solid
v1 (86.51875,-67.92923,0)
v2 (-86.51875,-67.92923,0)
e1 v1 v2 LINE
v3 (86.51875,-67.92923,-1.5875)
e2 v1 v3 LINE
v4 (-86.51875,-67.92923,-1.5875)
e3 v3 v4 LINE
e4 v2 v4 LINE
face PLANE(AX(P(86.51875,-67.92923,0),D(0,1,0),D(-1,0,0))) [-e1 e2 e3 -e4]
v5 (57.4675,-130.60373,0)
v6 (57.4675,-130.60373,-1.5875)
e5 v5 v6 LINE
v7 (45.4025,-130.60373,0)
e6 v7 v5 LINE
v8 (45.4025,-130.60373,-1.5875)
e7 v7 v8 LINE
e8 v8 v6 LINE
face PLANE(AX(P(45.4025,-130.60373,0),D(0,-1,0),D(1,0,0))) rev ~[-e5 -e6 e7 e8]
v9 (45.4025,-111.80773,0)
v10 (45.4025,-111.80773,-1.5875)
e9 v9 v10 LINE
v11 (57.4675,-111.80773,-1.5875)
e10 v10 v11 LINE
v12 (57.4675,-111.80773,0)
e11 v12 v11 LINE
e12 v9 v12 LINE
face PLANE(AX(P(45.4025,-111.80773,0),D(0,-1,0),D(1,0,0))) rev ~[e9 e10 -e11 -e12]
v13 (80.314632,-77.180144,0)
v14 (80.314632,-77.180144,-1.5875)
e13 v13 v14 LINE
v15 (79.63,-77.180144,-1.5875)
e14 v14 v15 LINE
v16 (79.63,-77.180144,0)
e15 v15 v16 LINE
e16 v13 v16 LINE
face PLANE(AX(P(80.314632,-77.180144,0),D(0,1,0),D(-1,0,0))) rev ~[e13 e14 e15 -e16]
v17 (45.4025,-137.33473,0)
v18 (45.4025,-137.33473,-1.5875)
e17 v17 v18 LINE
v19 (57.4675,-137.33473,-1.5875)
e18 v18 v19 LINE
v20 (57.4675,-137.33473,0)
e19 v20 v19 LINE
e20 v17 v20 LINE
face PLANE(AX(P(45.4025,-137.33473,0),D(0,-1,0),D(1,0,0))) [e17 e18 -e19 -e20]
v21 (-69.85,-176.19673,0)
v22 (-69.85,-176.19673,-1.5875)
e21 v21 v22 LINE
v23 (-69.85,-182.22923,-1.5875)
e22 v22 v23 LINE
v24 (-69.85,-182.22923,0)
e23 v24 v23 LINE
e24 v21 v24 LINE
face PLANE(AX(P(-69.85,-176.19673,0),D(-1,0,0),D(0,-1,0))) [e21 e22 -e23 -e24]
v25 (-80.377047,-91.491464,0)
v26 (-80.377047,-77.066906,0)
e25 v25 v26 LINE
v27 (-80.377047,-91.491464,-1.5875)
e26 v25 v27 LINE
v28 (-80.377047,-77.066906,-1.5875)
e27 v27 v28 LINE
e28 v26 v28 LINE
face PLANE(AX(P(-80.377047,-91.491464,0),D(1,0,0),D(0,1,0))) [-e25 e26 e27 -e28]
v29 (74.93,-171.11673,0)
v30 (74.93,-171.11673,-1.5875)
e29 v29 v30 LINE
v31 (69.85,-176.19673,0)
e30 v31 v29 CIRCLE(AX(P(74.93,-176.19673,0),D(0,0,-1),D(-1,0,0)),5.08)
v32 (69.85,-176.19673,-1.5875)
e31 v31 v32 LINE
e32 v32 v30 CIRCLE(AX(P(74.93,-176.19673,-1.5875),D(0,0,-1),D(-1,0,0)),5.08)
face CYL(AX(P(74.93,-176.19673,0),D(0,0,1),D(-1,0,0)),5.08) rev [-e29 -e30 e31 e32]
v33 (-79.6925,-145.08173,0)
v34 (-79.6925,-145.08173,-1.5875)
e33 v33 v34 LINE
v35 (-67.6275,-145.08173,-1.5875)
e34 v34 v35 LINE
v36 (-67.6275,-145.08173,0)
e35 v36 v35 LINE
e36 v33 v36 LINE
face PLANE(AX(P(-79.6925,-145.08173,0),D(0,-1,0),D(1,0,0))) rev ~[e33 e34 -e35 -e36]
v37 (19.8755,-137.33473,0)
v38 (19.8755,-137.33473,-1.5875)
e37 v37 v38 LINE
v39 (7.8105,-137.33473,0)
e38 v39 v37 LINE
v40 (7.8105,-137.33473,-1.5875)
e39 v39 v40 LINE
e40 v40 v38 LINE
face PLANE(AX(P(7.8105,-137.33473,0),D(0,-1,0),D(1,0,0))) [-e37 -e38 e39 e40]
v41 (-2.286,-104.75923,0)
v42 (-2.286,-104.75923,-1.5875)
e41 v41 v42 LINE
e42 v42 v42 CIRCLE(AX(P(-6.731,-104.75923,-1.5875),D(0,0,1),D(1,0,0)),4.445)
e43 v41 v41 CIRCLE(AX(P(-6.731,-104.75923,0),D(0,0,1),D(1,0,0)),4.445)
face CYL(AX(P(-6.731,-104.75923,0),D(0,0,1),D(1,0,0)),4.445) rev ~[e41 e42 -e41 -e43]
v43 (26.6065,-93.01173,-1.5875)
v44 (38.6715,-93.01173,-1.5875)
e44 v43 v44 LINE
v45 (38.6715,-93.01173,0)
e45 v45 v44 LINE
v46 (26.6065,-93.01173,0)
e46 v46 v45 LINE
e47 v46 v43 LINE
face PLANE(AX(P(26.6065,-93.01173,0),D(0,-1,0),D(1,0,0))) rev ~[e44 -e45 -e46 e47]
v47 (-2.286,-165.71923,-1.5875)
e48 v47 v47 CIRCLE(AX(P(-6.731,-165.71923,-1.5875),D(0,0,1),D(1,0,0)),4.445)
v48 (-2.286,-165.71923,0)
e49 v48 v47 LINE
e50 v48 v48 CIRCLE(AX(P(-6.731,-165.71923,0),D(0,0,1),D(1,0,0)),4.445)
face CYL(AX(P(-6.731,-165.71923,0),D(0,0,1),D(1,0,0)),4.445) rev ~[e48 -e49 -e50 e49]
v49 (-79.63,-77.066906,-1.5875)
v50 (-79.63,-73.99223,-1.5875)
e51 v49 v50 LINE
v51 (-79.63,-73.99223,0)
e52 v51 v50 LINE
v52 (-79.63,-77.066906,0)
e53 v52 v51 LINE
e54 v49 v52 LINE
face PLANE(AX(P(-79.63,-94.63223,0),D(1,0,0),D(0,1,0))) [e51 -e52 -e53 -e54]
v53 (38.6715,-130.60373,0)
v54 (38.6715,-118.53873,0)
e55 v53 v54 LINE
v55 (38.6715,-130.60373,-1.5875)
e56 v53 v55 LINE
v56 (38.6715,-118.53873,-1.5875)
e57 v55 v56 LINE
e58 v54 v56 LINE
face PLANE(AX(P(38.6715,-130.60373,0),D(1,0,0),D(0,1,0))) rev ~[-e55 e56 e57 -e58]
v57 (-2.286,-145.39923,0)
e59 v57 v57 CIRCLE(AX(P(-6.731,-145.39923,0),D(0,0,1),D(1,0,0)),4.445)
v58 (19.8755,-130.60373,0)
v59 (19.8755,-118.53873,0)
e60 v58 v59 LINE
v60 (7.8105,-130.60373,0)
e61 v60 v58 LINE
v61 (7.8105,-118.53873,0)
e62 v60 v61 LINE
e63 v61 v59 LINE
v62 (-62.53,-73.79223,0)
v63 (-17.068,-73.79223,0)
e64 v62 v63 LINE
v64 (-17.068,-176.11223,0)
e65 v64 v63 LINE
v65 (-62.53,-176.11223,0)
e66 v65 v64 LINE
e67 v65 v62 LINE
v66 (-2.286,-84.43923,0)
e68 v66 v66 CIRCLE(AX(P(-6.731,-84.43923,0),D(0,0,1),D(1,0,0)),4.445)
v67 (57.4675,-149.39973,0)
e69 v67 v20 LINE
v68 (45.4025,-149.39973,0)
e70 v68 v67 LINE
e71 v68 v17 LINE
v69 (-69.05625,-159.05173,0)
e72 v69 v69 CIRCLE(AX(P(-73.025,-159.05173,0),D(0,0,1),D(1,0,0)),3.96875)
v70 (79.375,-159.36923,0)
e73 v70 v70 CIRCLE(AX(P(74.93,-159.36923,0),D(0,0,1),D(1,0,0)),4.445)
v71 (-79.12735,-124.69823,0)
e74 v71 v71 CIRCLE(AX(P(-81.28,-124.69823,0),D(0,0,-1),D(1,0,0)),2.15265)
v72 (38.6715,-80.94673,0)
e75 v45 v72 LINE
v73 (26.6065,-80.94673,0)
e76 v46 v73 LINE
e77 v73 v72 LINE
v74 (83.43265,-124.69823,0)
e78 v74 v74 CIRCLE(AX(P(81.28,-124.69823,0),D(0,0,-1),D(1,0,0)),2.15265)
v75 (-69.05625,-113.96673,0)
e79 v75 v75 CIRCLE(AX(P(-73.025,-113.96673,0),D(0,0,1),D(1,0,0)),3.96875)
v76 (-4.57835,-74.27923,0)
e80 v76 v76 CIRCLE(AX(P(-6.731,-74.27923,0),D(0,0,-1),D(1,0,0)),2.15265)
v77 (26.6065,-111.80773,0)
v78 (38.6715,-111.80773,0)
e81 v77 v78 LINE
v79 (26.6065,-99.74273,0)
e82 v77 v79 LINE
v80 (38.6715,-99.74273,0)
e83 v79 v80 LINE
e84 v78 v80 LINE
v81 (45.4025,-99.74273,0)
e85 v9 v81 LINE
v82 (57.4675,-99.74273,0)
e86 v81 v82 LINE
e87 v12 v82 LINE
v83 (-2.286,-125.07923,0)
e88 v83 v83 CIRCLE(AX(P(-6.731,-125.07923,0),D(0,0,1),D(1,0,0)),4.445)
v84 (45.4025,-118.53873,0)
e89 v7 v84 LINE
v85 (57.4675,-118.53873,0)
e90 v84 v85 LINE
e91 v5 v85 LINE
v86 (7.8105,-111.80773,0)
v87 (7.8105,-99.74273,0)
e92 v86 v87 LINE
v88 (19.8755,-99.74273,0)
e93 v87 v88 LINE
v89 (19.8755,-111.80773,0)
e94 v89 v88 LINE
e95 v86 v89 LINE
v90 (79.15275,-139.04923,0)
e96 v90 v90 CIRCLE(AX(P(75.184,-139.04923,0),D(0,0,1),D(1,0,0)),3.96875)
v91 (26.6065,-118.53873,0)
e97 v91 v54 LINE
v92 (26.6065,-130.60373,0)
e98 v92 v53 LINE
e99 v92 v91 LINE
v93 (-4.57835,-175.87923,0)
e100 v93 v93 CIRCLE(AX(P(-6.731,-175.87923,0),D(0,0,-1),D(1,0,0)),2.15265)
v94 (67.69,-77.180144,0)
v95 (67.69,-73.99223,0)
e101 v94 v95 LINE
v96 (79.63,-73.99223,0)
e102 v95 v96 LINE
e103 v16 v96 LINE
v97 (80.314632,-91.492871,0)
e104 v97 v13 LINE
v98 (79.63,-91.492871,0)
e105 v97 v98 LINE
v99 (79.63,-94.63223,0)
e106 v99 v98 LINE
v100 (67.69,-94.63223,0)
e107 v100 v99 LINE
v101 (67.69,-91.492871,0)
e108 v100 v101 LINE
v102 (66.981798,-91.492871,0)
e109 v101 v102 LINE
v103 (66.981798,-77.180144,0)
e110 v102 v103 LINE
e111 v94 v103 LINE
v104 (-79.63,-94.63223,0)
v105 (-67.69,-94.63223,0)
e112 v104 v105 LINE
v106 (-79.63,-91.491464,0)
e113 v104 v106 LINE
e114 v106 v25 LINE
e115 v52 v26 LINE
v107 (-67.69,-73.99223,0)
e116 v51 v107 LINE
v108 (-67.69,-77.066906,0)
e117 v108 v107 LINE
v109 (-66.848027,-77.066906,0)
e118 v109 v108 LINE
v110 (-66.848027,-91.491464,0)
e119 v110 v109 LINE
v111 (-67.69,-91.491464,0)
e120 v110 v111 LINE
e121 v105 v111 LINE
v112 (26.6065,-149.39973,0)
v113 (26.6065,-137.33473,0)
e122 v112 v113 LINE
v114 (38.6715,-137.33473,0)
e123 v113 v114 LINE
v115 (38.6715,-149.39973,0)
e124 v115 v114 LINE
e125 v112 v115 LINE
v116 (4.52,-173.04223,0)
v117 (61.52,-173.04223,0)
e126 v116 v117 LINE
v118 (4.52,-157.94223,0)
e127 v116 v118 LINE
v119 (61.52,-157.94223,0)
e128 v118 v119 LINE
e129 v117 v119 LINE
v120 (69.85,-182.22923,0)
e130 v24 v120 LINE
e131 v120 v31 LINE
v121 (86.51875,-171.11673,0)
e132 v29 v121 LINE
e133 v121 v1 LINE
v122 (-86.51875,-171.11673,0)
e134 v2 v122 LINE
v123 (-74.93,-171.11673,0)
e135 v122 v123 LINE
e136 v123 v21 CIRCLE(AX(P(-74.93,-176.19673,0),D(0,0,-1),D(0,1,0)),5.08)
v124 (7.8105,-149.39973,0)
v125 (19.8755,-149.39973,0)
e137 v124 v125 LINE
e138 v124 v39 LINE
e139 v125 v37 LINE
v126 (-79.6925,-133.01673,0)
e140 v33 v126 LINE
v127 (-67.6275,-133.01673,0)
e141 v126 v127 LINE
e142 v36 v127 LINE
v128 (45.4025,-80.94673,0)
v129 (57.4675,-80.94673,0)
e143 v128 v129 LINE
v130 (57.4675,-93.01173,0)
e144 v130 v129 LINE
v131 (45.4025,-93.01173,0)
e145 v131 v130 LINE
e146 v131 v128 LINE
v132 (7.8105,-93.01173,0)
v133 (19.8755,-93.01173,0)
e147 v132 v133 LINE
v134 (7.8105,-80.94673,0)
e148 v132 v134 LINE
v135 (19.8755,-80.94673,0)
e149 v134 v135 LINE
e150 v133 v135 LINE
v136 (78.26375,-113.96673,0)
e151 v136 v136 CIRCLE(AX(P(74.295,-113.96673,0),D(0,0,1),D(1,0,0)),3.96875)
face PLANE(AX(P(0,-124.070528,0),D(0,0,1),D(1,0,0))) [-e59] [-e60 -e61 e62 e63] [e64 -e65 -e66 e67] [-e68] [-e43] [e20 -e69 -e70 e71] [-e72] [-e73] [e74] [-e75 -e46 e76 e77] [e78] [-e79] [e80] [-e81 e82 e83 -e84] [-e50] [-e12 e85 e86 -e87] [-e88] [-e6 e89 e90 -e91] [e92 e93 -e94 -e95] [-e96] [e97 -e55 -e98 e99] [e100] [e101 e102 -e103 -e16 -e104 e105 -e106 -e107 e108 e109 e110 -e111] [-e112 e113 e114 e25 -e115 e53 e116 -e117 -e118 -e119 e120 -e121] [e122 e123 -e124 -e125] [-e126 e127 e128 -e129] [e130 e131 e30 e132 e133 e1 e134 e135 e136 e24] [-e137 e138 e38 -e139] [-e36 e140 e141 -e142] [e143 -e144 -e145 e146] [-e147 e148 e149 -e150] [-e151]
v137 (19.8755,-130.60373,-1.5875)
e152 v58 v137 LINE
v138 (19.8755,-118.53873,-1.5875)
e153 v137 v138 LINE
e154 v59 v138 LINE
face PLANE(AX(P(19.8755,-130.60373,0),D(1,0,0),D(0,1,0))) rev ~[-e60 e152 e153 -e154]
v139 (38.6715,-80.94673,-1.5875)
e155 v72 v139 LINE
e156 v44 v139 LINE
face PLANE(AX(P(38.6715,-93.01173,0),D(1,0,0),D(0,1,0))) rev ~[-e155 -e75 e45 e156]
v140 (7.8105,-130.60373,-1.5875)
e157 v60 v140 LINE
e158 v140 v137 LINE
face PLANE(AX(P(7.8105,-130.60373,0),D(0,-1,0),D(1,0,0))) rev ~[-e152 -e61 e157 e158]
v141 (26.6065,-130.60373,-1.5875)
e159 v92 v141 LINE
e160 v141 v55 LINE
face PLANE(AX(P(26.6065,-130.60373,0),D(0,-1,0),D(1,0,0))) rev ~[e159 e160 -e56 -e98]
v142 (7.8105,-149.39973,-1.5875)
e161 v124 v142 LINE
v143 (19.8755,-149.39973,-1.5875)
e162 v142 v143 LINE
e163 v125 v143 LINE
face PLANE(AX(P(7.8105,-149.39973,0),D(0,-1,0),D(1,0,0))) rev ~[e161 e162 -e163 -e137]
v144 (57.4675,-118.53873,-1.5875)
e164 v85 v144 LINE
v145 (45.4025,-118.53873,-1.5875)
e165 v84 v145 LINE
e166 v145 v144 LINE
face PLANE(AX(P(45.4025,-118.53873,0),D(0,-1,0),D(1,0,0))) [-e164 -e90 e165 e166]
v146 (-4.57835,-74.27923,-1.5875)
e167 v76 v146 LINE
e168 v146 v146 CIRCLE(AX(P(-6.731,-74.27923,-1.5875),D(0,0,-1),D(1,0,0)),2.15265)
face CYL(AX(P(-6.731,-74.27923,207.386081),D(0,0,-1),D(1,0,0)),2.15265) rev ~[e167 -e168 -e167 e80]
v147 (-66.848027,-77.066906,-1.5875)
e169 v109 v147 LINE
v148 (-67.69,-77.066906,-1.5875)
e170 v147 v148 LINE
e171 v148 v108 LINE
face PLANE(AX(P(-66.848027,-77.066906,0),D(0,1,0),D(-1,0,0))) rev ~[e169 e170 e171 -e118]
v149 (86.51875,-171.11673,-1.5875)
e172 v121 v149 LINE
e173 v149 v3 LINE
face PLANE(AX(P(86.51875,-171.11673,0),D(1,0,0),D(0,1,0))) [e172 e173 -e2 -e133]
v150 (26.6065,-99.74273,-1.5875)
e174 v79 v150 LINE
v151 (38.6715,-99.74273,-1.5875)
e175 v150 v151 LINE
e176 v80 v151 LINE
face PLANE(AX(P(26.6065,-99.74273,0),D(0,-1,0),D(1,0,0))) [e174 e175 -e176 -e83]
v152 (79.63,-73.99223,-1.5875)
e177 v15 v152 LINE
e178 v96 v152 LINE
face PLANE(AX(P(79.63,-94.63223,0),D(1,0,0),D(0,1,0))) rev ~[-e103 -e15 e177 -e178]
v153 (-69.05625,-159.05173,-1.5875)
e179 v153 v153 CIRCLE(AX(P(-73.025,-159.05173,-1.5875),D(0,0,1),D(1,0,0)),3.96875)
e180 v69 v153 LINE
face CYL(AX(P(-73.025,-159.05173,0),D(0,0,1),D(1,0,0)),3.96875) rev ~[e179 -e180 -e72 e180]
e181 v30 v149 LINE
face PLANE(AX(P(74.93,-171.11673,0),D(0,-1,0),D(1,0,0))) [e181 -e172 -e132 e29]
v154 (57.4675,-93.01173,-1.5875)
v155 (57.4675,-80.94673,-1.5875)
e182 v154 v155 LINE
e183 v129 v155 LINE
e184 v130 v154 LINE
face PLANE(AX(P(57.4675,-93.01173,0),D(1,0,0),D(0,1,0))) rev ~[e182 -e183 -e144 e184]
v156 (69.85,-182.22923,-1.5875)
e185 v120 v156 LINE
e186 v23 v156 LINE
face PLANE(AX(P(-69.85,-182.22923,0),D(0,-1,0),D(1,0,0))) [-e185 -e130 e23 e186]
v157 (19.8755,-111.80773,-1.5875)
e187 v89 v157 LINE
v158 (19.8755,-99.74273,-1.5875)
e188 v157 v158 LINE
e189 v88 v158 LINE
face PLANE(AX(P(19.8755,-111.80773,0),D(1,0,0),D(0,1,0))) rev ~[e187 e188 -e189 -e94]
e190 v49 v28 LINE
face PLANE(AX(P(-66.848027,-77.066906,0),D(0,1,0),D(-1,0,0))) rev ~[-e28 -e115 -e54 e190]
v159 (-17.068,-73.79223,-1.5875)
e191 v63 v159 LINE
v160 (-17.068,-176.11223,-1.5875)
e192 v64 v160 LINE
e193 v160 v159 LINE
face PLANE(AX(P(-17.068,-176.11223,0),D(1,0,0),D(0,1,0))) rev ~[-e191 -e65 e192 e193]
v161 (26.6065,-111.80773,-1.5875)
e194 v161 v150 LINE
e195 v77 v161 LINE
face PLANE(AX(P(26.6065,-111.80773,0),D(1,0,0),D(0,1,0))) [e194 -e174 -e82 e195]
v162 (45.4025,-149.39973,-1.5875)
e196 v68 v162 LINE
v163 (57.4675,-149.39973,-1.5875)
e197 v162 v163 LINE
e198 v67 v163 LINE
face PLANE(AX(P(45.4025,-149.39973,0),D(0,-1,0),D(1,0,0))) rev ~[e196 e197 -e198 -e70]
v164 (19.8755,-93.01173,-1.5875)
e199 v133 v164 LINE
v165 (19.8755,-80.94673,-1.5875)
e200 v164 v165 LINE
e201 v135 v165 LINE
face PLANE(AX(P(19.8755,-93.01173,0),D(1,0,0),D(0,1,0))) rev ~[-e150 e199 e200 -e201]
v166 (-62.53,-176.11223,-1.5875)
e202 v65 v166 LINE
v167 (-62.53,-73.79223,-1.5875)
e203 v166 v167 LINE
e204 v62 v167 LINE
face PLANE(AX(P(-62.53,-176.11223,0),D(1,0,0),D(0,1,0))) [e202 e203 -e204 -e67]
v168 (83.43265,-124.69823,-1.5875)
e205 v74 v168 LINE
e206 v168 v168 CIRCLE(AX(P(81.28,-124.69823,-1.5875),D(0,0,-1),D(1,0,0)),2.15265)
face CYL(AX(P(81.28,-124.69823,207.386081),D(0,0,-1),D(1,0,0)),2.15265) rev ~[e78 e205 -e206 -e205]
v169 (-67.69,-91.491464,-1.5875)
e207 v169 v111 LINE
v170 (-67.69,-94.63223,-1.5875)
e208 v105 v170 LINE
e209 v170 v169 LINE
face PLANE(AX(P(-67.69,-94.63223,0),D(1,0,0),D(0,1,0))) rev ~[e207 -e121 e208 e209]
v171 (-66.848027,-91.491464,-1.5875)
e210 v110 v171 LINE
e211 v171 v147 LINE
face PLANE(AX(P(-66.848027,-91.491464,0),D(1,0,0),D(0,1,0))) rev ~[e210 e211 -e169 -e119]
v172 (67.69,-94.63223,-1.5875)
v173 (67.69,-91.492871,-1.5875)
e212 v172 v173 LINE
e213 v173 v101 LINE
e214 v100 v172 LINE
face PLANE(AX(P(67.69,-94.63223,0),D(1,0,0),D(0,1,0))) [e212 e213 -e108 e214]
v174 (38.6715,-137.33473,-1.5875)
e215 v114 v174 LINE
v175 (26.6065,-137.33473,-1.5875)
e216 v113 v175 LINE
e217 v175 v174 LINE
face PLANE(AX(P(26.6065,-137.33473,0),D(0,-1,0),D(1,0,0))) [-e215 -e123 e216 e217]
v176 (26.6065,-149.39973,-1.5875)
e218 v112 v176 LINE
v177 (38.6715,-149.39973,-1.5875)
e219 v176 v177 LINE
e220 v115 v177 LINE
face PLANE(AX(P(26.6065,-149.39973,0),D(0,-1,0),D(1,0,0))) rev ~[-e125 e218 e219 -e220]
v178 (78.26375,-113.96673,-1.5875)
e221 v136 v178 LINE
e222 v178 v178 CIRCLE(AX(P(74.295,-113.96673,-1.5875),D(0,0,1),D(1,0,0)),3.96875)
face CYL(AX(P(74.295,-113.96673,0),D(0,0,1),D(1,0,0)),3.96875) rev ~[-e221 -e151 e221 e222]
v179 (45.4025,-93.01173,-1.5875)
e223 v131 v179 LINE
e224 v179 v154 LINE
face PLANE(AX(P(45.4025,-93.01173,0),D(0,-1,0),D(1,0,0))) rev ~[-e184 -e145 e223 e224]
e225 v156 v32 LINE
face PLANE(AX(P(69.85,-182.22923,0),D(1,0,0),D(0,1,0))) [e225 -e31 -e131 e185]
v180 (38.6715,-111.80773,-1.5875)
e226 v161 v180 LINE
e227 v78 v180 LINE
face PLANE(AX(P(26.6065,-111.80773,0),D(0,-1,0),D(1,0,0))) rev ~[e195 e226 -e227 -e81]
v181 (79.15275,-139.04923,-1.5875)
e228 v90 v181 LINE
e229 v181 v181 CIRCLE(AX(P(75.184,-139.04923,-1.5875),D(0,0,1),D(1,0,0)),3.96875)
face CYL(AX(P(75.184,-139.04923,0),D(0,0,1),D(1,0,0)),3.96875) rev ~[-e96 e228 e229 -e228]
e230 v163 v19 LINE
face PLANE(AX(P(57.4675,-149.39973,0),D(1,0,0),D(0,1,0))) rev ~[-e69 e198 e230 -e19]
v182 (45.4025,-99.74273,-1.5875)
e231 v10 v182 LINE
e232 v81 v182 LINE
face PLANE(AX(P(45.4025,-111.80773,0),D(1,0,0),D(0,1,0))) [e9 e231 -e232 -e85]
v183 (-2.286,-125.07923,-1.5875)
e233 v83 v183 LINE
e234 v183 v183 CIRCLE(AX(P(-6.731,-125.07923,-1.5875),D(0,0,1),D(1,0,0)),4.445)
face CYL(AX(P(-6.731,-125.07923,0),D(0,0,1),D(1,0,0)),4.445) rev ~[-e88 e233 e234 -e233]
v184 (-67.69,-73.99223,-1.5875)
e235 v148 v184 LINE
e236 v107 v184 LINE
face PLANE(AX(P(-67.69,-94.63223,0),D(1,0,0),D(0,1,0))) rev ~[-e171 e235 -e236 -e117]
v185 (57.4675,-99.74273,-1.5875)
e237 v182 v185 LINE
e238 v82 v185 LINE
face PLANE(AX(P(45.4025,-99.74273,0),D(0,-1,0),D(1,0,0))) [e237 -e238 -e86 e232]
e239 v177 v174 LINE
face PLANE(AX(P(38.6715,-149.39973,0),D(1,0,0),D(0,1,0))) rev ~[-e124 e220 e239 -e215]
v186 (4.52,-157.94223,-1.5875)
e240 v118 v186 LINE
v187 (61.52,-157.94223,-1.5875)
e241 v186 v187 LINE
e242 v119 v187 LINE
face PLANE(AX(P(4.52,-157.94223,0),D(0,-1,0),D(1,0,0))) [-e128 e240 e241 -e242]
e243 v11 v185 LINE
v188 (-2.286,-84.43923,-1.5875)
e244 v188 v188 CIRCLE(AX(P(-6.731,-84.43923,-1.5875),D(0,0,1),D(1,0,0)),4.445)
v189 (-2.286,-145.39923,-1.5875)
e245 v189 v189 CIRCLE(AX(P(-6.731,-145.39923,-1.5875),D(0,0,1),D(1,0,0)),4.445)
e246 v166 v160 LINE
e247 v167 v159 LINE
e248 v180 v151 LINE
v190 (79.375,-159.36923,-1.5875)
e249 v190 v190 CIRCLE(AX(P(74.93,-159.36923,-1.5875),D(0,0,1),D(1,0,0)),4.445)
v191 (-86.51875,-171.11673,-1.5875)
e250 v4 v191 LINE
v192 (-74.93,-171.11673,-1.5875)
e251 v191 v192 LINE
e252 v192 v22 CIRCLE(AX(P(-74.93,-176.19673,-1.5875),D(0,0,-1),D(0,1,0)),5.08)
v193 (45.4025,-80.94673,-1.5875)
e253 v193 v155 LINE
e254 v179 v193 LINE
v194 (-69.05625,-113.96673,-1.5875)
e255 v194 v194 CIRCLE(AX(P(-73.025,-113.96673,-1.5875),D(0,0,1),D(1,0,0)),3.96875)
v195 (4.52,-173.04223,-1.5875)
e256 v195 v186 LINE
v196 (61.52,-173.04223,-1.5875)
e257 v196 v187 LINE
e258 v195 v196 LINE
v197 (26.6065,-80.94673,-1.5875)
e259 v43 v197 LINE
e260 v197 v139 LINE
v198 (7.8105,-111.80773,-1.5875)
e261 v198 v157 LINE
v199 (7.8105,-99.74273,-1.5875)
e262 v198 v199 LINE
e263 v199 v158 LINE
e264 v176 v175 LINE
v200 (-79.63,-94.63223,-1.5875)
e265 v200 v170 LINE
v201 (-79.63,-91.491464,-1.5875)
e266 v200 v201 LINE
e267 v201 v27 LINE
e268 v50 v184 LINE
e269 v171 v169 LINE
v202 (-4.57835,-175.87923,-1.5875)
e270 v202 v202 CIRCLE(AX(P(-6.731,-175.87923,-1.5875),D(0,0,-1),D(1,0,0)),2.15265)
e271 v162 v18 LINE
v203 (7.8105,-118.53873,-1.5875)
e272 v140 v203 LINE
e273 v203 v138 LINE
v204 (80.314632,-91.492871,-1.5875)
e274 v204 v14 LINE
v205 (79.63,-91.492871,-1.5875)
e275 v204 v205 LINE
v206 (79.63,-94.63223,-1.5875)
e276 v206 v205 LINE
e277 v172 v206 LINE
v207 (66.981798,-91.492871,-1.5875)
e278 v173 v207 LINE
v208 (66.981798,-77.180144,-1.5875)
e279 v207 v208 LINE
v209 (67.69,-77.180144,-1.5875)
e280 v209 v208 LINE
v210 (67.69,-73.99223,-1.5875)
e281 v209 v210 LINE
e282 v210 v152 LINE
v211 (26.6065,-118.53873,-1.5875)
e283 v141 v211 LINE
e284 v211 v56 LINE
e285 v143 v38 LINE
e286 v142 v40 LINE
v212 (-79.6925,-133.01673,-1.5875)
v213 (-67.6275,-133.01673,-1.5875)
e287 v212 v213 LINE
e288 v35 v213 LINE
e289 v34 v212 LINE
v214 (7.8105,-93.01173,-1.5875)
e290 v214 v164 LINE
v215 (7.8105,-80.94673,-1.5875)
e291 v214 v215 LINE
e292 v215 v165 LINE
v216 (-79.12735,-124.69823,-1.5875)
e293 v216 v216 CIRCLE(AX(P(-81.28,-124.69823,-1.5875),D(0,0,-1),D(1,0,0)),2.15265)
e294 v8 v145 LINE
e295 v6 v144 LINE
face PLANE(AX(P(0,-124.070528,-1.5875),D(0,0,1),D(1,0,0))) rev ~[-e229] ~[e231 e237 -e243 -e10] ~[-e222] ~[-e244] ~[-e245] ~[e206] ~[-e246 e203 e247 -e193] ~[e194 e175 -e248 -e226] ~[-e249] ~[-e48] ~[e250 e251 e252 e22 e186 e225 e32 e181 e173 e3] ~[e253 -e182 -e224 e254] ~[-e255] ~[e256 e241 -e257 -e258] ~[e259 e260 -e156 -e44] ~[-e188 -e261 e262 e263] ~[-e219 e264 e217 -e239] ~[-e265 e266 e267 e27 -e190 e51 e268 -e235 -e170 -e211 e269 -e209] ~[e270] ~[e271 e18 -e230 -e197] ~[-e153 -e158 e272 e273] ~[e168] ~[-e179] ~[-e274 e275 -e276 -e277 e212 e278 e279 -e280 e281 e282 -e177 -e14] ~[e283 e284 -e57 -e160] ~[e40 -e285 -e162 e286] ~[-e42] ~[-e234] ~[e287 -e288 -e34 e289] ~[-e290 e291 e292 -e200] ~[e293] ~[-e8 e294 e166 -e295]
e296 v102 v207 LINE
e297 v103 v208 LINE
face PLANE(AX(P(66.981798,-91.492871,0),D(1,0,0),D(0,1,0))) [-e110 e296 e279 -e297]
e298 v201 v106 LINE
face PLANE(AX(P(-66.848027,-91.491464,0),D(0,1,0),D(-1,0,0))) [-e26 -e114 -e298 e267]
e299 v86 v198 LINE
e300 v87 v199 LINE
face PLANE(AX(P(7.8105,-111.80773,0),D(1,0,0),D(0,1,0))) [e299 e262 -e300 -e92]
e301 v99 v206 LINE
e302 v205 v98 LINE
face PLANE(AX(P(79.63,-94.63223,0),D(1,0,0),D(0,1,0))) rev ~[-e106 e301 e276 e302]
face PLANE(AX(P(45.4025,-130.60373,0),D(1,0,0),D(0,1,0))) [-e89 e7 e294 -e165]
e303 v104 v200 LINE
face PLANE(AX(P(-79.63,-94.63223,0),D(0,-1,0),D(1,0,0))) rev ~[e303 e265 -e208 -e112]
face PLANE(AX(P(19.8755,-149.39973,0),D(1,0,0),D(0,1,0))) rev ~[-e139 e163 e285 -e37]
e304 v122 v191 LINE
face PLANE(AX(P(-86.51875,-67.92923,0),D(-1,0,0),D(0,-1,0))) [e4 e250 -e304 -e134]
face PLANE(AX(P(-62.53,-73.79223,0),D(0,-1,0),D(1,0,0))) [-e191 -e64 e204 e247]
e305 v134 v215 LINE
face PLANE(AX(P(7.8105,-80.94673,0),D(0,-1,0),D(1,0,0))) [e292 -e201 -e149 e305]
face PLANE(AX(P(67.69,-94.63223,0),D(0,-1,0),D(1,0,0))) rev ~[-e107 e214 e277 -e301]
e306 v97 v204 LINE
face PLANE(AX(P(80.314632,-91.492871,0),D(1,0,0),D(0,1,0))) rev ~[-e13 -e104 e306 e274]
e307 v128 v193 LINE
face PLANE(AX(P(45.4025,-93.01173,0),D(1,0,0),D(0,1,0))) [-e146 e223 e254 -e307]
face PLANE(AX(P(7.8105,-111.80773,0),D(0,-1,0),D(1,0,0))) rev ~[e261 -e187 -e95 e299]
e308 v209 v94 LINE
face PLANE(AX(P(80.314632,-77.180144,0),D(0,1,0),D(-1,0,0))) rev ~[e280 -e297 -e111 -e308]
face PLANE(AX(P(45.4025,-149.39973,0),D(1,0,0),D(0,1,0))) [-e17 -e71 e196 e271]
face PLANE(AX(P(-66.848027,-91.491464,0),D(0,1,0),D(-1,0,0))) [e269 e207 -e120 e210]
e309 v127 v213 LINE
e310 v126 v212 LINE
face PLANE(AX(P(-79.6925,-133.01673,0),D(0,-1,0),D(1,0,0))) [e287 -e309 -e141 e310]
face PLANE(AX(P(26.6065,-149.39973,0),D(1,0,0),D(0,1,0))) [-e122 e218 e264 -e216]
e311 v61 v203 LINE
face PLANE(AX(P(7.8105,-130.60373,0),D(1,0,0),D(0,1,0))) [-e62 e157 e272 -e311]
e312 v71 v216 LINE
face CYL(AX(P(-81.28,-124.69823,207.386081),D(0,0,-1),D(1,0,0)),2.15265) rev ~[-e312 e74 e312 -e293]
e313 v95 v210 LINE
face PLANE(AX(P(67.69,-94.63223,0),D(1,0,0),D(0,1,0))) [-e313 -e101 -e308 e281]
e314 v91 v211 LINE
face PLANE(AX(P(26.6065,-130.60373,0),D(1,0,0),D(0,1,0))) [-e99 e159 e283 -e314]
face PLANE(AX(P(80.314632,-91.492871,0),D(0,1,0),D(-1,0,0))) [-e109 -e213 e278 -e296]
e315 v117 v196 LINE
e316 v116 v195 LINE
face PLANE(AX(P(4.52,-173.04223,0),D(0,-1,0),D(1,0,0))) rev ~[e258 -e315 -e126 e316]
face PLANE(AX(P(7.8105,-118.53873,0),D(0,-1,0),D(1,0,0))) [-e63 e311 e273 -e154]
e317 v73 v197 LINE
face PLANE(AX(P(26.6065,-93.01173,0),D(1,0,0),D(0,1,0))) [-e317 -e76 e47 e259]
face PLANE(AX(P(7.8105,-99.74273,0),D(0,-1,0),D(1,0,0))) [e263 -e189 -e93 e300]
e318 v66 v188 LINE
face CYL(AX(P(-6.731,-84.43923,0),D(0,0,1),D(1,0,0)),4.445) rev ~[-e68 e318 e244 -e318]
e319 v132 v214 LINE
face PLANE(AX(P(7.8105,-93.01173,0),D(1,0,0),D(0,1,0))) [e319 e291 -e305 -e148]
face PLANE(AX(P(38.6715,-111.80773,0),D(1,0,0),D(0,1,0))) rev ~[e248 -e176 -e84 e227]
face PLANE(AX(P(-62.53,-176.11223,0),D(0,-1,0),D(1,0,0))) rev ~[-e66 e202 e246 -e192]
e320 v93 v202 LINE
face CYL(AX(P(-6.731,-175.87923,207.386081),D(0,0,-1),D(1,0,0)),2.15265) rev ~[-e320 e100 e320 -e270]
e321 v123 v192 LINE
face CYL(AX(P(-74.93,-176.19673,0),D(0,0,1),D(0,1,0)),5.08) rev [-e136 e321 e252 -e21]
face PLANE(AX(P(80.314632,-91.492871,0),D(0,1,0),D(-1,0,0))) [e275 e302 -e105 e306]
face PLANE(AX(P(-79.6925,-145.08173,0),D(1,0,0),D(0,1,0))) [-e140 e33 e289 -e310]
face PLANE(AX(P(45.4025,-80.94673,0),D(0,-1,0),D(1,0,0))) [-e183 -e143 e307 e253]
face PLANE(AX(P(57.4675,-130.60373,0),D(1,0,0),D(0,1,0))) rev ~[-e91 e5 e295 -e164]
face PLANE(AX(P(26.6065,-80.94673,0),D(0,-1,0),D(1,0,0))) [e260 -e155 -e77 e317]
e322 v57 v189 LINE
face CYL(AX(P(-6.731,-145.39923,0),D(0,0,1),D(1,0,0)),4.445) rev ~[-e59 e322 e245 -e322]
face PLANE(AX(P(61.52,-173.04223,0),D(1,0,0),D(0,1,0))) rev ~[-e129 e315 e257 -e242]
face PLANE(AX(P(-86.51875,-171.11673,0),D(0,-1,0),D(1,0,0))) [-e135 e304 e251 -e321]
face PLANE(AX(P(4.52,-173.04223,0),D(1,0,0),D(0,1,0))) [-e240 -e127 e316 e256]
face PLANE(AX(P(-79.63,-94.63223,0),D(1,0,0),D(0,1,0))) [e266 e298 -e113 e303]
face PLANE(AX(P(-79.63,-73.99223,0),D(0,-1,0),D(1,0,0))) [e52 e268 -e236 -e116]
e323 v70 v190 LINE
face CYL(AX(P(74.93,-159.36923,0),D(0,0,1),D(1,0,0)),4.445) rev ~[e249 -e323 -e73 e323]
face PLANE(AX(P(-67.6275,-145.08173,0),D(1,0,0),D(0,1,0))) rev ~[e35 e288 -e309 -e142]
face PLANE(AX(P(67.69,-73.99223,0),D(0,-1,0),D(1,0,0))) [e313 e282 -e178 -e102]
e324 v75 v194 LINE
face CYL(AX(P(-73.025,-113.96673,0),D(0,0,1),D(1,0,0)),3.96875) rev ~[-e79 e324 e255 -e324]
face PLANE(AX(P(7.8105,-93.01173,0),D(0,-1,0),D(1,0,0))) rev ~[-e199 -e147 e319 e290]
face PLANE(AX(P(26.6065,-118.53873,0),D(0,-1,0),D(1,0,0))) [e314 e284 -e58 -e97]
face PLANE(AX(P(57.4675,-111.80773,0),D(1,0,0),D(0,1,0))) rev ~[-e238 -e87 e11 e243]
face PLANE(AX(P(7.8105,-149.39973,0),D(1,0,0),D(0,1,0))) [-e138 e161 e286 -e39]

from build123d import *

# Parameters (mm, degrees)
BOSS_EXTRUDE1_DEPTH   = 1.5875
SKETCH3_R             = 4.445
SKETCH3_W             = 12.065
SKETCH3_H             = 12.065
CUT_EXTRUDE1_DEPTH    = 2.5875
SKETCH4_R             = 3.96875
CUT_EXTRUDE2_DEPTH    = 2.5875
SKETCH5_W             = 11.94
SKETCH5_H             = 20.64
SKETCH5_W_2           = 45.462
SKETCH5_H_2           = 102.32
SKETCH5_W_3           = 57
SKETCH5_H_3           = 15.1
CUT_EXTRUDE3_DEPTH    = 2.5875
F_6_CLEARANCE_HOLE2_D = 4.3053
CUT_EXTRUDE4_START    = -1.5875
SKETCH11_W            = 13.529020254
SKETCH11_H            = 14.424558238
SKETCH11_W_2          = 13.332833864
SKETCH11_H_2          = 14.312726797
CUT_EXTRUDE4_DEPTH    = 1.5875


with BuildPart() as part:
    # Sketch1 → Boss-Extrude1 (new body)
    with BuildSketch(Plane.XY):
        with BuildLine():
            Line((74.93, -171.1167297), (86.51875, -171.1167297))
            Line((86.51875, -171.1167297), (86.51875, -67.9292297))
            Line((86.51875, -67.9292297), (-86.51875, -67.9292297))
            Line((-86.51875, -67.9292297), (-86.51875, -171.1167297))
            Line((-86.51875, -171.1167297), (-74.93, -171.1167297))
            ThreePointArc((-74.93, -171.1167297), (-71.337897552, -172.604627251), (-69.85, -176.1967297))
            Line((-69.85, -176.1967297), (-69.85, -182.2292297))
            Line((-69.85, -182.2292297), (69.85, -182.2292297))
            Line((69.85, -182.2292297), (69.85, -176.1967297))
            ThreePointArc((69.85, -176.1967297), (71.337897552, -172.604627251), (74.93, -171.1167297))
        make_face()
    extrude(amount=-BOSS_EXTRUDE1_DEPTH)

    # Sketch3 → Cut-Extrude1 (cut, through all)
    with BuildSketch(Plane.XY):
        with Locations((74.93, -159.3692297)):
            Circle(SKETCH3_R)
        with Locations((-6.731, -165.7192297)):
            Circle(SKETCH3_R)
        with Locations((-6.731, -145.3992297)):
            Circle(SKETCH3_R)
        with Locations((-6.731, -125.0792297)):
            Circle(SKETCH3_R)
        with Locations((-6.731, -104.7592297)):
            Circle(SKETCH3_R)
        with Locations((-6.731, -84.4392297)):
            Circle(SKETCH3_R)
        with Locations((-73.66, -139.0492297)):
            Rectangle(SKETCH3_W, SKETCH3_H)
        with Locations((13.843, -143.3672297)):
            Rectangle(SKETCH3_W, SKETCH3_H)
        with Locations((32.639, -143.3672297)):
            Rectangle(SKETCH3_W, SKETCH3_H)
        with Locations((51.435, -143.3672297)):
            Rectangle(SKETCH3_W, SKETCH3_H)
        with Locations((51.435, -124.5712297)):
            Rectangle(SKETCH3_W, SKETCH3_H)
        with Locations((32.639, -124.5712297)):
            Rectangle(SKETCH3_W, SKETCH3_H)
        with Locations((13.843, -124.5712297)):
            Rectangle(SKETCH3_W, SKETCH3_H)
        with Locations((13.843, -105.7752297)):
            Rectangle(SKETCH3_W, SKETCH3_H)
        with Locations((13.843, -86.9792297)):
            Rectangle(SKETCH3_W, SKETCH3_H)
        with Locations((32.639, -86.9792297)):
            Rectangle(SKETCH3_W, SKETCH3_H)
        with Locations((32.639, -105.7752297)):
            Rectangle(SKETCH3_W, SKETCH3_H)
        with Locations((51.435, -105.7752297)):
            Rectangle(SKETCH3_W, SKETCH3_H)
        with Locations((51.435, -86.9792297)):
            Rectangle(SKETCH3_W, SKETCH3_H)
    extrude(amount=-CUT_EXTRUDE1_DEPTH, mode=Mode.SUBTRACT)

    # Sketch4 → Cut-Extrude2 (cut, through all)
    with BuildSketch(Plane.XY):
        with Locations((-73.025, -113.9667297)):
            Circle(SKETCH4_R)
        with Locations((-73.025, -159.0517297)):
            Circle(SKETCH4_R)
        with Locations((74.295, -113.9667297)):
            Circle(SKETCH4_R)
        with Locations((75.184, -139.0492297)):
            Circle(SKETCH4_R)
    extrude(amount=-CUT_EXTRUDE2_DEPTH, mode=Mode.SUBTRACT)

    # Sketch5 → Cut-Extrude3 (cut, through all)
    with BuildSketch(Plane.XY):
        with Locations((-73.66, -84.3122297)):
            Rectangle(SKETCH5_W, SKETCH5_H)
        with Locations((73.66, -84.3122297)):
            Rectangle(SKETCH5_W, SKETCH5_H)
        with Locations((-39.799, -124.9522297)):
            Rectangle(SKETCH5_W_2, SKETCH5_H_2)
        with Locations((33.02, -165.4922297)):
            Rectangle(SKETCH5_W_3, SKETCH5_H_3)
    extrude(amount=-CUT_EXTRUDE3_DEPTH, mode=Mode.SUBTRACT)

    # #6 Clearance Hole2 (through all)
    with Locations(Plane(origin=(0, 0, 0), x_dir=(-1, 0, 0), z_dir=(0, 0, 1))):
        with Locations((-81.28, 124.6982297), (6.731, 175.8792297), (81.28, 124.6982297), (6.731, 74.2792297)):
            Hole(F_6_CLEARANCE_HOLE2_D / 2)

    # Sketch11 → Cut-Extrude4 (cut)
    with BuildSketch(Plane(origin=(0, 0, -1.5875), x_dir=(-1, 0, 0), z_dir=(0, 0, -1)).offset(CUT_EXTRUDE4_START)):
        with Locations((73.612537257, -84.279184845)):
            Rectangle(SKETCH11_W, SKETCH11_H)
        with Locations((-73.648214967, -84.336507402)):
            Rectangle(SKETCH11_W_2, SKETCH11_H_2)
    extrude(amount=CUT_EXTRUDE4_DEPTH, mode=Mode.SUBTRACT)


solid = part.part
